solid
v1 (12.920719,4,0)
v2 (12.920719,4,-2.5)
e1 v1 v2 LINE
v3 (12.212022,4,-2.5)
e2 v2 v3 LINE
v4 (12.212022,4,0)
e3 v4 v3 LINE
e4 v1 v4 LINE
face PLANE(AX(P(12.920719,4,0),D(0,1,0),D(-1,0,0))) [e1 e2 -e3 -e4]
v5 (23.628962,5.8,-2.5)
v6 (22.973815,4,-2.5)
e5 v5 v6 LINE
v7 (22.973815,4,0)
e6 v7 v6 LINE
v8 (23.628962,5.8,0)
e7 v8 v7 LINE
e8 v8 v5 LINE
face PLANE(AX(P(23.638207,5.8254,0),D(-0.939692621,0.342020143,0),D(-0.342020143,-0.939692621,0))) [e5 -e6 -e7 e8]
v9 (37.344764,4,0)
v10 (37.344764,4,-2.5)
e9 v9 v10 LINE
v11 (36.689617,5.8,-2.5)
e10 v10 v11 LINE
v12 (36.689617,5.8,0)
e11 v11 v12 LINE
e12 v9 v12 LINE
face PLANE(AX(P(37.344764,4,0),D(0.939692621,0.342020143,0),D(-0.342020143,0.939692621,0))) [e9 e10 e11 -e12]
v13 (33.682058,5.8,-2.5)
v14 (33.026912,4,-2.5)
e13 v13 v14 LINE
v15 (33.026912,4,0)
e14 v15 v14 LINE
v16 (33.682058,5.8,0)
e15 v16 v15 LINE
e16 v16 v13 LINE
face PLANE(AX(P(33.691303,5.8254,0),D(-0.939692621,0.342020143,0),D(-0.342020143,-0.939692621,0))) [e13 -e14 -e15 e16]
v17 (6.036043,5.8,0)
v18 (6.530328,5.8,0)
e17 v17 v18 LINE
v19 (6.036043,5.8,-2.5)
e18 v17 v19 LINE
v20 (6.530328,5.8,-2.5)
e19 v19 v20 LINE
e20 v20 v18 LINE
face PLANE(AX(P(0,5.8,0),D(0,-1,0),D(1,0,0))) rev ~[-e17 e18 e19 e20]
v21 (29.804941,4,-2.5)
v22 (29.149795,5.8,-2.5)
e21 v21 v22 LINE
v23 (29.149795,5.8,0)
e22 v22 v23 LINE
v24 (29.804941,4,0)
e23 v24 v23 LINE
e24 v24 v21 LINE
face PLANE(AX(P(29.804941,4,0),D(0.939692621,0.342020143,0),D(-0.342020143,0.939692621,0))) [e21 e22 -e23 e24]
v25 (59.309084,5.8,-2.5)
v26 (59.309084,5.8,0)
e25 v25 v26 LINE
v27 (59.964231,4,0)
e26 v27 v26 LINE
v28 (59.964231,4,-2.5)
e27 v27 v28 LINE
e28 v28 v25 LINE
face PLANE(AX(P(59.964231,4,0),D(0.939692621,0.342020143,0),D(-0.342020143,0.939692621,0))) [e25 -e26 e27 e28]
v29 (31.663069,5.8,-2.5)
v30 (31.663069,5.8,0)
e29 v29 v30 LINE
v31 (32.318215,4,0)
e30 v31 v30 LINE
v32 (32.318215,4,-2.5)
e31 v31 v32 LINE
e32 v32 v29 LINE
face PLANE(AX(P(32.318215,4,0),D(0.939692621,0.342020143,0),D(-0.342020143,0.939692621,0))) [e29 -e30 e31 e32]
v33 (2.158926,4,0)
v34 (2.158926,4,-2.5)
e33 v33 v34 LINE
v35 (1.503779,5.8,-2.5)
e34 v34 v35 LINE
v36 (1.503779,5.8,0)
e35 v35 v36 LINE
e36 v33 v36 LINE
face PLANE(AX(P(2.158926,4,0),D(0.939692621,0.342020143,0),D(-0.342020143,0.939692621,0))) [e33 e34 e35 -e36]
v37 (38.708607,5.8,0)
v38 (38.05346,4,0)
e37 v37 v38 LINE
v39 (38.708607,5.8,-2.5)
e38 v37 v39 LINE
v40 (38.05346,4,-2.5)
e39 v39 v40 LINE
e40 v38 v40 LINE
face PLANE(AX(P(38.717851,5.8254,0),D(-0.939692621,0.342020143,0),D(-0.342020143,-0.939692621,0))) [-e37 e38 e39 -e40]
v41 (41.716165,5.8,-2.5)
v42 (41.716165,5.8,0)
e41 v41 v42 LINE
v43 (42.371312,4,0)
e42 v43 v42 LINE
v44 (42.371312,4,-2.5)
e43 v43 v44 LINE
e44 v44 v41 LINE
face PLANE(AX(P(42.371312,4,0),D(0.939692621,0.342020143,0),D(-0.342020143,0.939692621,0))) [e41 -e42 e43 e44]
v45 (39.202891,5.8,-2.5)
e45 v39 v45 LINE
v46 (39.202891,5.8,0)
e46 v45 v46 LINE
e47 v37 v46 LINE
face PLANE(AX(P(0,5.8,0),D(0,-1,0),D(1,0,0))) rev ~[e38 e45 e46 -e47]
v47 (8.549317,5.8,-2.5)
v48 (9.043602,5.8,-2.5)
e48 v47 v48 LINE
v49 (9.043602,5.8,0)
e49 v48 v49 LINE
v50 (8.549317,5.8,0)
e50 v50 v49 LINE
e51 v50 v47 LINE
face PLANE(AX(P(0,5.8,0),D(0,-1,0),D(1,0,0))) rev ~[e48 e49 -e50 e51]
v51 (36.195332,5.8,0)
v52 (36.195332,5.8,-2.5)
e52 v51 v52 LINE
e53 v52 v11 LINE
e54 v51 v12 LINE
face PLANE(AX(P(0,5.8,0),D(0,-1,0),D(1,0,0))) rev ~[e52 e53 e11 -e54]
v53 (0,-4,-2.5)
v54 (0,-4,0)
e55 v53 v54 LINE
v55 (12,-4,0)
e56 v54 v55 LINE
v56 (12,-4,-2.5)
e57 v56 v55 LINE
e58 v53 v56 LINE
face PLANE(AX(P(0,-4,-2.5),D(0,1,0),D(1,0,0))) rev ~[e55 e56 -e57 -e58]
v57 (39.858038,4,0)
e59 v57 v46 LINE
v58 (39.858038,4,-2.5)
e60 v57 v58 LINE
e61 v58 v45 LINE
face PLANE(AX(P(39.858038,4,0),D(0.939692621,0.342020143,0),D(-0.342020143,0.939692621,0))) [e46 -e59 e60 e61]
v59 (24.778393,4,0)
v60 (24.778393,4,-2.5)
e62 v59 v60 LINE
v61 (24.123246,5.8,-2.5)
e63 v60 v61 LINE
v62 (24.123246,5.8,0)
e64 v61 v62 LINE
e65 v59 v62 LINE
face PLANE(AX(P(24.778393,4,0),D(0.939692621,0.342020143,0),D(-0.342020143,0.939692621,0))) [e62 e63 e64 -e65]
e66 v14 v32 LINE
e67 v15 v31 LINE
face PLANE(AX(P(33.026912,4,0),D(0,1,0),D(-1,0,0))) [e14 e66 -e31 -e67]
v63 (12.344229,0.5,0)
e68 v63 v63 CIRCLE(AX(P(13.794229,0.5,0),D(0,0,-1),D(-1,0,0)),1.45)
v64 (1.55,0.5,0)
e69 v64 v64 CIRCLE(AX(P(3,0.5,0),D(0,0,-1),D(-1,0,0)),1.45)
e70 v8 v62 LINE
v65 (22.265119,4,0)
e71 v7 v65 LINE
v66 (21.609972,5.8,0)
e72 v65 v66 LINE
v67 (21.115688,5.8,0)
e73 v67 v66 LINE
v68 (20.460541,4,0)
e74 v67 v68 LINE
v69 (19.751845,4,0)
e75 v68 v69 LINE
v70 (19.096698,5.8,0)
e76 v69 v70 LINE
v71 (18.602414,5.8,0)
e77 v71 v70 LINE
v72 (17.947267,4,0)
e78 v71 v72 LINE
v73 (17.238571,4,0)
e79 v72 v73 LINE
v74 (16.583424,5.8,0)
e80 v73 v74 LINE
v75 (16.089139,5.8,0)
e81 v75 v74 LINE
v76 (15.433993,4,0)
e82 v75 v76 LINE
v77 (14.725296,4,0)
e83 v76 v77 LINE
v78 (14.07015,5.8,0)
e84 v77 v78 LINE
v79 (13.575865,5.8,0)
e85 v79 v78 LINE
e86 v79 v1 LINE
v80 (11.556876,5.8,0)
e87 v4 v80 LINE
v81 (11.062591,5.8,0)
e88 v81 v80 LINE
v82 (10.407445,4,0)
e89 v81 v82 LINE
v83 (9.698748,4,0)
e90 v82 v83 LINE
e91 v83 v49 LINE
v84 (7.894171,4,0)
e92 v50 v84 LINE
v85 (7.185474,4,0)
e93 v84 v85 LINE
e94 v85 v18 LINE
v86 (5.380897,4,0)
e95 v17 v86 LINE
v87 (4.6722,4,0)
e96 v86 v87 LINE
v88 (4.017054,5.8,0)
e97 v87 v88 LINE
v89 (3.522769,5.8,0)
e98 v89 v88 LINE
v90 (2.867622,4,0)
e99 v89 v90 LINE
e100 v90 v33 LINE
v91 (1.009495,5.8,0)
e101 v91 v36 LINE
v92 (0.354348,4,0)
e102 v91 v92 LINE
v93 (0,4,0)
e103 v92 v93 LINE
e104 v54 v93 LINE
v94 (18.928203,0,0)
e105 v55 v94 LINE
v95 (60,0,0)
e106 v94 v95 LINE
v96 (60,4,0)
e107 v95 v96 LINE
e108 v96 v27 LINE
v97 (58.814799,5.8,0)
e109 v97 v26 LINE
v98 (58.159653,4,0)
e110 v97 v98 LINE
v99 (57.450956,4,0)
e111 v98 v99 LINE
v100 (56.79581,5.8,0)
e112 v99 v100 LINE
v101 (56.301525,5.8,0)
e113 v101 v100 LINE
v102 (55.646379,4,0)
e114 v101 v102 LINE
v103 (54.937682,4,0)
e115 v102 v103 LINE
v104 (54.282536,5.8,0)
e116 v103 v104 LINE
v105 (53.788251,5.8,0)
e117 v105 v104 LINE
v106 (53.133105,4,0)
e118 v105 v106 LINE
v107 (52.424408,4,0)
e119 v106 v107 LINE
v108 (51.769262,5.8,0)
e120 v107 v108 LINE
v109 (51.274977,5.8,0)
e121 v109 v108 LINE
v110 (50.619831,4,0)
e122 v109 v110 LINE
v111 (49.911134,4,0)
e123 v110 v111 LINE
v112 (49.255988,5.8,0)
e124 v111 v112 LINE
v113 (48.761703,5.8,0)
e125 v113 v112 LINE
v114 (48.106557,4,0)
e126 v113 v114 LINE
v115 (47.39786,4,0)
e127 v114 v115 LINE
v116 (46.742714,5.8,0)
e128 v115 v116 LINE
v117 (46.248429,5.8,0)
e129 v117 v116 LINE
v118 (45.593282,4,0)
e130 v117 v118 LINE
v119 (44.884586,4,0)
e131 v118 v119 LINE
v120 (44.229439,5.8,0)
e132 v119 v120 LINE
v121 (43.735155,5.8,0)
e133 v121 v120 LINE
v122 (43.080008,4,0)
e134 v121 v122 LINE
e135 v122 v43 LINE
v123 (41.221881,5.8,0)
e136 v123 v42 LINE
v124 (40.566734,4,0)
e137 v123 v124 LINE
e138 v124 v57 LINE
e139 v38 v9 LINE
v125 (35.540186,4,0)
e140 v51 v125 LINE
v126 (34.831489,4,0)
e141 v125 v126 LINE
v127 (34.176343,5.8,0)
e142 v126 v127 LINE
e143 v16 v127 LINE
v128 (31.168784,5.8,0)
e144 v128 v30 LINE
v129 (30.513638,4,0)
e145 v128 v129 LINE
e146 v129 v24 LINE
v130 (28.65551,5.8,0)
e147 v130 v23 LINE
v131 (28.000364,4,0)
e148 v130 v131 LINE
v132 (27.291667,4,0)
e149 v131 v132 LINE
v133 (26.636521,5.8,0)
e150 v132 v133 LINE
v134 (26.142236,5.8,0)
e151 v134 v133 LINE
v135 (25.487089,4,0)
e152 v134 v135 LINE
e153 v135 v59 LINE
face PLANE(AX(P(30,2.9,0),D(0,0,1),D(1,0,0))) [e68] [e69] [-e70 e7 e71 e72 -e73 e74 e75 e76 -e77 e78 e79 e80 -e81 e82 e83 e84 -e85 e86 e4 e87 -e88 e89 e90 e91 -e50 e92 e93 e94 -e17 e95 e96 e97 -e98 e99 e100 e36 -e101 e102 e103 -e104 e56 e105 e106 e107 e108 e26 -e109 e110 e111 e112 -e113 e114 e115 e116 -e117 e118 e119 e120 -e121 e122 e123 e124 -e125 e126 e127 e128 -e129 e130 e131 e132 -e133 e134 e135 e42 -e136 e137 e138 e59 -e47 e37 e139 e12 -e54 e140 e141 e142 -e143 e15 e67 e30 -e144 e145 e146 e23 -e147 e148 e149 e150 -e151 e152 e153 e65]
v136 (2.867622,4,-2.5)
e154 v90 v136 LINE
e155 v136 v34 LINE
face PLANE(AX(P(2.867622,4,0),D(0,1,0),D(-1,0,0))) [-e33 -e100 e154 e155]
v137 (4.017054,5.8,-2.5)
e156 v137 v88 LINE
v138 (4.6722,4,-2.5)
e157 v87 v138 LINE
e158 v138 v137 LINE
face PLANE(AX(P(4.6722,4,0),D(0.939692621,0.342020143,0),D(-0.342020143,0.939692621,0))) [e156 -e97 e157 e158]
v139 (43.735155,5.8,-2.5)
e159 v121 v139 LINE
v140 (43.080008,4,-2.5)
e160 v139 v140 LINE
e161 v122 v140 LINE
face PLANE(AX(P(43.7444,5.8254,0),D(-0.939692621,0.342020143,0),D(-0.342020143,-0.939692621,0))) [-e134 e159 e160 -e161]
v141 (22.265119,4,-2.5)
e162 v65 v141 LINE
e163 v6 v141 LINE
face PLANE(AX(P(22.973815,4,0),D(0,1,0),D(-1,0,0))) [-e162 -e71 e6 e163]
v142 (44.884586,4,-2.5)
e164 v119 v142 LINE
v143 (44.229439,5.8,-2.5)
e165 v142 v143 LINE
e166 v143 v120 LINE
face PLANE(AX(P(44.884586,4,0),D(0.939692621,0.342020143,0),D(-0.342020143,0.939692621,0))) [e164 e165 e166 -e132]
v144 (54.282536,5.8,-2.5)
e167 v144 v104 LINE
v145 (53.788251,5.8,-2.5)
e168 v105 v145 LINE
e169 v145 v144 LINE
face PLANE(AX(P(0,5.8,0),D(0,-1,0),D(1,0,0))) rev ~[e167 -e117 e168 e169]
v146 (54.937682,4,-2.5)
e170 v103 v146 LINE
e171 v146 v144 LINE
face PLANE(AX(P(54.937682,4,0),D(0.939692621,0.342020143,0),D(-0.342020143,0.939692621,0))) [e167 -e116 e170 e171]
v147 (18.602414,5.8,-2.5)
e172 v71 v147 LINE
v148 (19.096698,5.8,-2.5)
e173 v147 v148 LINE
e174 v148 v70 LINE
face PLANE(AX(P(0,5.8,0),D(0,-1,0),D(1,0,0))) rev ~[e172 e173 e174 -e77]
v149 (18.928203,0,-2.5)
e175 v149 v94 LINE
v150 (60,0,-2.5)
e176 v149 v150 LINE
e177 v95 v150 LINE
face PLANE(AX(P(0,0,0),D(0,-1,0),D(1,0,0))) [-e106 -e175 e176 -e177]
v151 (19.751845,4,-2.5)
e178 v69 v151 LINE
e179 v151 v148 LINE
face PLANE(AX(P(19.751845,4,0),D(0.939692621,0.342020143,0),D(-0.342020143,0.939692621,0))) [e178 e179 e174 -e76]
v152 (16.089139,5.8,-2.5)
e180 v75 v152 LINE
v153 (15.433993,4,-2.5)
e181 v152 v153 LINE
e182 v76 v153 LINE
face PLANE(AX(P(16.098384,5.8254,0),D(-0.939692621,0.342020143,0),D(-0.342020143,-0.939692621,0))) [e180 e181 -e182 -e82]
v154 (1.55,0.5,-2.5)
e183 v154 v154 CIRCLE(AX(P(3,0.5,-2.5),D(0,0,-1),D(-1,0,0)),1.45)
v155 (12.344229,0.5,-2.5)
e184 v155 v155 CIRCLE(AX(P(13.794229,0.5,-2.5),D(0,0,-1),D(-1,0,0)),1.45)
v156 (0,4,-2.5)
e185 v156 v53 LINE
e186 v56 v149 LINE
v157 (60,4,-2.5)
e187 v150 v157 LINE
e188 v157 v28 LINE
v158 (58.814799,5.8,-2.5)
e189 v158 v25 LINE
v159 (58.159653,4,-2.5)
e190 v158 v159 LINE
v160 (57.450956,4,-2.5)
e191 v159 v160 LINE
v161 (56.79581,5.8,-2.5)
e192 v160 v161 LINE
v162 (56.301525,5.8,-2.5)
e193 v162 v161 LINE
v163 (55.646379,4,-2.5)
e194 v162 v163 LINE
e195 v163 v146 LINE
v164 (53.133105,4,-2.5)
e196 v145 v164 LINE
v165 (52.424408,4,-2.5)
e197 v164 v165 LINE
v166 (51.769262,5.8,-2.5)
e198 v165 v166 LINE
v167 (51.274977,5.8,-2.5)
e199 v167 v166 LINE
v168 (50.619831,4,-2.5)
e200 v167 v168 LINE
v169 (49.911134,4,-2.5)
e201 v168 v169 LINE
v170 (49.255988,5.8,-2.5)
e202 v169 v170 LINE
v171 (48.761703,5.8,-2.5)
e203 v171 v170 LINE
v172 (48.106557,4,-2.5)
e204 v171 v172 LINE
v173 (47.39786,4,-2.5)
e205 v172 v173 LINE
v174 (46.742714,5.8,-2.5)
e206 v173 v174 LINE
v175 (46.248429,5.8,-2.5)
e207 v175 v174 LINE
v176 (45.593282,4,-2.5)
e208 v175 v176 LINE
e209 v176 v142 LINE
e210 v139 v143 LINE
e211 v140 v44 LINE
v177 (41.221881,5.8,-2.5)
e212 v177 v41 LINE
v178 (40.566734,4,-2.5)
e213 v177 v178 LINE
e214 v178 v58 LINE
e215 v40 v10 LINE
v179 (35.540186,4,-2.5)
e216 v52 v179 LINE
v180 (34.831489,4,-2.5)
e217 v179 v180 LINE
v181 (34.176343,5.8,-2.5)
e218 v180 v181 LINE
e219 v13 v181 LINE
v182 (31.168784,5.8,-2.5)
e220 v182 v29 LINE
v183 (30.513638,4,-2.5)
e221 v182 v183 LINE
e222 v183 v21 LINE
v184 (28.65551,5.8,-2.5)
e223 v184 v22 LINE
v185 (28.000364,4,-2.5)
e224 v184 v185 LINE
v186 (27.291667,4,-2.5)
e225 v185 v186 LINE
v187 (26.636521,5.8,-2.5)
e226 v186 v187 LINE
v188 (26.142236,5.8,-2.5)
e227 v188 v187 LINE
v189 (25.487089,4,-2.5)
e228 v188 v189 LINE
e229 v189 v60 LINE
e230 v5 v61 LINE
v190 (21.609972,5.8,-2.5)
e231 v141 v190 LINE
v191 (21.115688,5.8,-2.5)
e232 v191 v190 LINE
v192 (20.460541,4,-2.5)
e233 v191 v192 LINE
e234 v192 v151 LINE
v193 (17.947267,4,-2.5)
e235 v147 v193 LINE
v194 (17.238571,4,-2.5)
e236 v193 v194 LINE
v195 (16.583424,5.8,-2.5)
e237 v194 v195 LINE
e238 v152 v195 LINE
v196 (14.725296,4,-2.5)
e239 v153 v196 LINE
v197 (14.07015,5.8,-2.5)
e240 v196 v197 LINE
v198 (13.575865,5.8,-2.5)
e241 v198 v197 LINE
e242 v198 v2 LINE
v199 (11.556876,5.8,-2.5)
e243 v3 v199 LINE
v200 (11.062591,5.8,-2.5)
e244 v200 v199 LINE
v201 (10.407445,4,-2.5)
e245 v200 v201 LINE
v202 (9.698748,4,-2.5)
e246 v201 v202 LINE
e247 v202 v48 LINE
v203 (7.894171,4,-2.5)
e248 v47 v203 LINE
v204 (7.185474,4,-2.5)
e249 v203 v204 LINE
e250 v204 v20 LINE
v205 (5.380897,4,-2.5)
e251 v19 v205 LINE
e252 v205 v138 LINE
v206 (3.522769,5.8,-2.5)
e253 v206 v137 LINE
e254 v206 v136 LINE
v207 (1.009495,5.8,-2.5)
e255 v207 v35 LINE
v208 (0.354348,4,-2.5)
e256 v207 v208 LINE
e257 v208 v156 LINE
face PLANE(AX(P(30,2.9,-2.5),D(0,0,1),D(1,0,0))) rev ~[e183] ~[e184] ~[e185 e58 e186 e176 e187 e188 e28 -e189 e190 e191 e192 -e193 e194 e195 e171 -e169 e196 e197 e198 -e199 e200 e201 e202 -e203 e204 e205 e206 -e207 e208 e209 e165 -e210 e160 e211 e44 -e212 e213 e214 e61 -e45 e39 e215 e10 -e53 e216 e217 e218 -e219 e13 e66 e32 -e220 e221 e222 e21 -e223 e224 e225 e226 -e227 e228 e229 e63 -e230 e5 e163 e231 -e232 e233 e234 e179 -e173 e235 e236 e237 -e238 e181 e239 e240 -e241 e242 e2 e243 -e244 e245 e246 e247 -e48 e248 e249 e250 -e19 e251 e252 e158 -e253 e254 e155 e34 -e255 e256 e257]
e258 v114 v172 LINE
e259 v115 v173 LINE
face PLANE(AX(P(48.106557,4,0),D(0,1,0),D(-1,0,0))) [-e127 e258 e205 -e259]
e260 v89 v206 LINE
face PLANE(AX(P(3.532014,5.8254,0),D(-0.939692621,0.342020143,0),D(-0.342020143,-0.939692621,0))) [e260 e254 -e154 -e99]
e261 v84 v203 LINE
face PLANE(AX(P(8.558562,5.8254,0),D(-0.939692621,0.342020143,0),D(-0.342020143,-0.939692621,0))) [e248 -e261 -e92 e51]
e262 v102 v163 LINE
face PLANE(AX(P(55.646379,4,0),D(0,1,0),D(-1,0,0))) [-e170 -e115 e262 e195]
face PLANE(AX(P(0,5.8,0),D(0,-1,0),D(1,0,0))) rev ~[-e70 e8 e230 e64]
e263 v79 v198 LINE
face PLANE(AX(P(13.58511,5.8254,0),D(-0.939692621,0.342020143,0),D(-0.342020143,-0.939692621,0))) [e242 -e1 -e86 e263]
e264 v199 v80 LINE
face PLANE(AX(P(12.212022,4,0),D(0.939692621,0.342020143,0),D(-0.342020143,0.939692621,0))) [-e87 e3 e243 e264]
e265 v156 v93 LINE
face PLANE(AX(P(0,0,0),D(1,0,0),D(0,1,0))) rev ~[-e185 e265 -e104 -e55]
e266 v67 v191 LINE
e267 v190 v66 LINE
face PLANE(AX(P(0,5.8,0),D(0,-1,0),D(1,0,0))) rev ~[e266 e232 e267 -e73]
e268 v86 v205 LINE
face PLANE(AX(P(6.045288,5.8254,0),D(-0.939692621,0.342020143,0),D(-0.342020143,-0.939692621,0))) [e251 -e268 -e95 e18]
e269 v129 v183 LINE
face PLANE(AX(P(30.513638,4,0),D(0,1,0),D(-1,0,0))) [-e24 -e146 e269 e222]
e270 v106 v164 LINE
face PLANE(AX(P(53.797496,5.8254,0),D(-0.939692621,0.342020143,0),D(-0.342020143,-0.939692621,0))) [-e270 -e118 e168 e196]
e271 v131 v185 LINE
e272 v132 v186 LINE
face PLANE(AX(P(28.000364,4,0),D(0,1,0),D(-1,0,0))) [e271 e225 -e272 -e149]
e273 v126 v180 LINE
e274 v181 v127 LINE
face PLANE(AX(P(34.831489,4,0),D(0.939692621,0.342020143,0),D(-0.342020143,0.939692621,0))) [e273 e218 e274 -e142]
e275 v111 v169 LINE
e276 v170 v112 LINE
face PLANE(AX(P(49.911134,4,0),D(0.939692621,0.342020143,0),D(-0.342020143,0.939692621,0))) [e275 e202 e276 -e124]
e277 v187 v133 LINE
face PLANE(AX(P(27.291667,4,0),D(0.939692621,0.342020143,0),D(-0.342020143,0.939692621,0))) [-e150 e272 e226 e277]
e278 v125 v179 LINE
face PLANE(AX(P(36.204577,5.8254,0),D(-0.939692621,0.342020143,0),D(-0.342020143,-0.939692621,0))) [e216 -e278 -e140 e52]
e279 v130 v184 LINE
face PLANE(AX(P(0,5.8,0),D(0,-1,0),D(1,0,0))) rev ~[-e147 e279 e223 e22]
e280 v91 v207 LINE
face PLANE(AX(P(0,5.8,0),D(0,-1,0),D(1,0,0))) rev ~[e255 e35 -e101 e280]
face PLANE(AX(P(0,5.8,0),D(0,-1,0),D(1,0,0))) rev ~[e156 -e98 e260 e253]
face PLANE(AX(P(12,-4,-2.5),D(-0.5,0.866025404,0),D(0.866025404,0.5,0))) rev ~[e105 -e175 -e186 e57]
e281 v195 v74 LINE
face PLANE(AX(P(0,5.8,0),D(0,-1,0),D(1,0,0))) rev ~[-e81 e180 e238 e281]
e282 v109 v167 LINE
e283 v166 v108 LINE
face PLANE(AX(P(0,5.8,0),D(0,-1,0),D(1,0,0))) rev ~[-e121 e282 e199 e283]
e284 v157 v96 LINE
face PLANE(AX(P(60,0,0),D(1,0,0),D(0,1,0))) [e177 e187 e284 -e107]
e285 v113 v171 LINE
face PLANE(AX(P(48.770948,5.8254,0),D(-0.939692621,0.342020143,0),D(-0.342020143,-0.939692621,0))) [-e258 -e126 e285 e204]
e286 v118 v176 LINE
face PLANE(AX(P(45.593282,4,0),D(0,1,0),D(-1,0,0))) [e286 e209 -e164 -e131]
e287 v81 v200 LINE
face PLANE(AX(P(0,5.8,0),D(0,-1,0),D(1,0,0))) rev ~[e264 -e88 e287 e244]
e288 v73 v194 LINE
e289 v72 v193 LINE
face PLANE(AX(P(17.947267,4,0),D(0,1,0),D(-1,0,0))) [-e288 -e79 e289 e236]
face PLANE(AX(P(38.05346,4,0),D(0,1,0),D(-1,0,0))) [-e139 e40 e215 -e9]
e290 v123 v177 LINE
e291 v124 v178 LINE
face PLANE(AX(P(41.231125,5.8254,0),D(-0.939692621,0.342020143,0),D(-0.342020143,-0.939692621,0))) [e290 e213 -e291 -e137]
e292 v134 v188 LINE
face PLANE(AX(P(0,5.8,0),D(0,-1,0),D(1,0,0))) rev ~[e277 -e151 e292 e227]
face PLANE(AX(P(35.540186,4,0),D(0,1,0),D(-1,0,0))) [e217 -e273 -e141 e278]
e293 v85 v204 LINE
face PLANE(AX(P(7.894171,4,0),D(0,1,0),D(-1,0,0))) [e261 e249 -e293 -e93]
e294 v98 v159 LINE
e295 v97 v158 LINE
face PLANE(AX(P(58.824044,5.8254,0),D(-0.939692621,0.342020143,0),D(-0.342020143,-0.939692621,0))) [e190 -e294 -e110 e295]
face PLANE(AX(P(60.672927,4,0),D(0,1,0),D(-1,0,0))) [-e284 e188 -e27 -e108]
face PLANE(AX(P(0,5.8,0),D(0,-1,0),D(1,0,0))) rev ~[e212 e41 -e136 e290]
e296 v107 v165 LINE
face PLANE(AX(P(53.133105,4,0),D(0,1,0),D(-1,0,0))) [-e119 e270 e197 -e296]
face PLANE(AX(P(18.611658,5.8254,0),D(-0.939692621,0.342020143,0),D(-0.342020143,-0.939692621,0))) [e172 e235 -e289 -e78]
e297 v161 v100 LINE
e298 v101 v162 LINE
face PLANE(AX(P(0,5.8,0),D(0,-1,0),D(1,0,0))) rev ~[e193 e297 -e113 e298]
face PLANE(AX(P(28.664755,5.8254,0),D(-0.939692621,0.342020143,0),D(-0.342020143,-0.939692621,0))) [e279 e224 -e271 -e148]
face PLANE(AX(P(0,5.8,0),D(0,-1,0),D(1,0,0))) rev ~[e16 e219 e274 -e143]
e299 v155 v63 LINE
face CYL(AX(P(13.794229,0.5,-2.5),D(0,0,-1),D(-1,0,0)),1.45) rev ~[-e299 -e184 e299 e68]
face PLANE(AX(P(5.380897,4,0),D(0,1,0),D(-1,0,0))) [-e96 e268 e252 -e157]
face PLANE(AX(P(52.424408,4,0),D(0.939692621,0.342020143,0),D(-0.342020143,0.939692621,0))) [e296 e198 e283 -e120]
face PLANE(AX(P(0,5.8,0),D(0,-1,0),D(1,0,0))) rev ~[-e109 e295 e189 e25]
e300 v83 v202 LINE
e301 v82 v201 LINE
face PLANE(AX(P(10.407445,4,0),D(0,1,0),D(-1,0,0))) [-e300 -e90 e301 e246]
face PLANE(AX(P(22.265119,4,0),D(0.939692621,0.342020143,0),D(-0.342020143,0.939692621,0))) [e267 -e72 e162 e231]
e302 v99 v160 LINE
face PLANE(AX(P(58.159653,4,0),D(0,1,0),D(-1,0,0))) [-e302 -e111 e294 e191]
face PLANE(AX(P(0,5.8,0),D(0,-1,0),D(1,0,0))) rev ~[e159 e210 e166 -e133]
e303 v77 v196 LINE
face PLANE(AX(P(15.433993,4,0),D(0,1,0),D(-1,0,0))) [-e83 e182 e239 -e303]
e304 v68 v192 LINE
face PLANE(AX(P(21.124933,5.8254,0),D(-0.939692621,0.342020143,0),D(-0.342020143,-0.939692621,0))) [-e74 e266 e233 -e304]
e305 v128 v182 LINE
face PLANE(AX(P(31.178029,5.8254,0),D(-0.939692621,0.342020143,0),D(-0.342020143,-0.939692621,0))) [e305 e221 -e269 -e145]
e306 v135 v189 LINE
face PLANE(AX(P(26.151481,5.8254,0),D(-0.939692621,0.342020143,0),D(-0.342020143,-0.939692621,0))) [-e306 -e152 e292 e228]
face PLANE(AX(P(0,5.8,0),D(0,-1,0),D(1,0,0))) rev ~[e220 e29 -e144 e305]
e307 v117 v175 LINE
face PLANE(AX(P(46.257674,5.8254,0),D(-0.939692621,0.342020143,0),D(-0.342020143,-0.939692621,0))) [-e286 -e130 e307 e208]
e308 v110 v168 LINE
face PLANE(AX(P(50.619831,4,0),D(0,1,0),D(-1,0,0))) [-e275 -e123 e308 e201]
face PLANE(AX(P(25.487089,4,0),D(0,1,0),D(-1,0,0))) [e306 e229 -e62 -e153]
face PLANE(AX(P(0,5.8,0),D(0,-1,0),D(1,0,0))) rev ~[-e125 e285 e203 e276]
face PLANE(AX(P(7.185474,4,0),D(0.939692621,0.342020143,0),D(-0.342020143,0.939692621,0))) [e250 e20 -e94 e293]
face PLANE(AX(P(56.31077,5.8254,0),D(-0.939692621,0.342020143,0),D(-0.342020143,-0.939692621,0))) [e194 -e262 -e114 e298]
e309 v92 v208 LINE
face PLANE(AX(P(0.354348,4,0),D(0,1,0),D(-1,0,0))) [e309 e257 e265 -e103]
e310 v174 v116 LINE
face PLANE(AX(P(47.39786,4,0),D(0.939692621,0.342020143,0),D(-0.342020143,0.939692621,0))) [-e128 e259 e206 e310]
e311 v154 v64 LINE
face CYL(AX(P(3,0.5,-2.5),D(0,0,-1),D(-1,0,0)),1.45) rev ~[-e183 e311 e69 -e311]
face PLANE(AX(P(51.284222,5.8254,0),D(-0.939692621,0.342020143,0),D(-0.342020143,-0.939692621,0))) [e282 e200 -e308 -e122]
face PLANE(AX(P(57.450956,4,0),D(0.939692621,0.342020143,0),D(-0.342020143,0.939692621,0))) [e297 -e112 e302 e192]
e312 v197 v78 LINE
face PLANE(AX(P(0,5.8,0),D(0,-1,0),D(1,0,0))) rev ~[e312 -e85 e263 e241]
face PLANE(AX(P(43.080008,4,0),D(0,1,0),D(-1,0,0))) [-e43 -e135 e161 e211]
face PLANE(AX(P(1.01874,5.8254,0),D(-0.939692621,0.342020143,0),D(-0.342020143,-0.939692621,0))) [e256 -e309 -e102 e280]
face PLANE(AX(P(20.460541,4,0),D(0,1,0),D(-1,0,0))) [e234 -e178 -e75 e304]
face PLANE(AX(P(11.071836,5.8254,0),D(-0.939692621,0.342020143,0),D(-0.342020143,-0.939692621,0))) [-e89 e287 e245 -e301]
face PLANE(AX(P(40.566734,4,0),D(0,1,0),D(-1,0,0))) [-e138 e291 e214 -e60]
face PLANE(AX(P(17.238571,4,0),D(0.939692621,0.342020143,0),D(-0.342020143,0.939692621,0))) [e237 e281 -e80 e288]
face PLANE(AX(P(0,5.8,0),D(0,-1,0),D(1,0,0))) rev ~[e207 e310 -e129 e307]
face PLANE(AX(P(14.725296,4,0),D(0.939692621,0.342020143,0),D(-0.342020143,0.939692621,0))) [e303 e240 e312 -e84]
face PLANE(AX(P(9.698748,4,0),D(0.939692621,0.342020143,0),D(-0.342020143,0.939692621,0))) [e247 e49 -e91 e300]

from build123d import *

# Parameters (mm, degrees)
BLANKSKE_W               = 60
BLANKSKE_H               = 5.8
BLANK_DEPTH              = 2.5
TOOTHCUTSIM_DEPTH        = 61.331500893
TEETHCUTS_COUNT          = 25
TEETHCUTS_PITCH          = 2.51327412
EXTRUDE_1_DEPTH          = 2.5
SKETCH_3_R               = 1.45
CUT_EXTRUDE_1_DEPTH      = 23
CUT_EXTRUDE_1_DEPTH_BACK = 12


with BuildPart() as part:
    # BlankSke → Blank (new body)
    with BuildSketch(Plane.XY):
        with Locations((30, 2.9)):
            Rectangle(BLANKSKE_W, BLANKSKE_H)
    extrude(amount=-BLANK_DEPTH)

    # TooCutSkeSim → ToothCutSim (cut, through all)
    with BuildSketch(Plane.XY):
        Polygon((0.354348296, 4), (-0.354348296, 4), (-1.018739561, 5.8254), (1.018739561, 5.8254), align=None)
    toothcutsim = extrude(amount=-TOOTHCUTSIM_DEPTH, mode=Mode.SUBTRACT)

    # TeethCuts: ToothCutSim ×25
    with Locations(*[(i * TEETHCUTS_PITCH, 0, 0) for i in range(1, TEETHCUTS_COUNT)]):
        add(toothcutsim, mode=Mode.SUBTRACT)

    # 草图2 → 凸台-拉伸1 (add)
    with BuildSketch(Plane(origin=(0, 0, -2.5), x_dir=(-1, 0, 0), z_dir=(0, 0, -1))):
        Polygon((0, 4), (0, -4), (-12, -4), (-18.92820323, 0), align=None)
    extrude(amount=-EXTRUDE_1_DEPTH)

    # 草图3 → 切除-拉伸1 (cut, two sides)
    with BuildSketch(Plane(origin=(0, 0, -2.5), x_dir=(-1, 0, 0), z_dir=(0, 0, -1))) as cut_extrude_1_sk:
        with Locations((-3, 0.5)):
            Circle(SKETCH_3_R)
        with Locations((-13.794228634, 0.5)):
            Circle(SKETCH_3_R)
    extrude(amount=CUT_EXTRUDE_1_DEPTH, mode=Mode.SUBTRACT)
    extrude(cut_extrude_1_sk.sketch, amount=-CUT_EXTRUDE_1_DEPTH_BACK, mode=Mode.SUBTRACT)


solid = part.part
